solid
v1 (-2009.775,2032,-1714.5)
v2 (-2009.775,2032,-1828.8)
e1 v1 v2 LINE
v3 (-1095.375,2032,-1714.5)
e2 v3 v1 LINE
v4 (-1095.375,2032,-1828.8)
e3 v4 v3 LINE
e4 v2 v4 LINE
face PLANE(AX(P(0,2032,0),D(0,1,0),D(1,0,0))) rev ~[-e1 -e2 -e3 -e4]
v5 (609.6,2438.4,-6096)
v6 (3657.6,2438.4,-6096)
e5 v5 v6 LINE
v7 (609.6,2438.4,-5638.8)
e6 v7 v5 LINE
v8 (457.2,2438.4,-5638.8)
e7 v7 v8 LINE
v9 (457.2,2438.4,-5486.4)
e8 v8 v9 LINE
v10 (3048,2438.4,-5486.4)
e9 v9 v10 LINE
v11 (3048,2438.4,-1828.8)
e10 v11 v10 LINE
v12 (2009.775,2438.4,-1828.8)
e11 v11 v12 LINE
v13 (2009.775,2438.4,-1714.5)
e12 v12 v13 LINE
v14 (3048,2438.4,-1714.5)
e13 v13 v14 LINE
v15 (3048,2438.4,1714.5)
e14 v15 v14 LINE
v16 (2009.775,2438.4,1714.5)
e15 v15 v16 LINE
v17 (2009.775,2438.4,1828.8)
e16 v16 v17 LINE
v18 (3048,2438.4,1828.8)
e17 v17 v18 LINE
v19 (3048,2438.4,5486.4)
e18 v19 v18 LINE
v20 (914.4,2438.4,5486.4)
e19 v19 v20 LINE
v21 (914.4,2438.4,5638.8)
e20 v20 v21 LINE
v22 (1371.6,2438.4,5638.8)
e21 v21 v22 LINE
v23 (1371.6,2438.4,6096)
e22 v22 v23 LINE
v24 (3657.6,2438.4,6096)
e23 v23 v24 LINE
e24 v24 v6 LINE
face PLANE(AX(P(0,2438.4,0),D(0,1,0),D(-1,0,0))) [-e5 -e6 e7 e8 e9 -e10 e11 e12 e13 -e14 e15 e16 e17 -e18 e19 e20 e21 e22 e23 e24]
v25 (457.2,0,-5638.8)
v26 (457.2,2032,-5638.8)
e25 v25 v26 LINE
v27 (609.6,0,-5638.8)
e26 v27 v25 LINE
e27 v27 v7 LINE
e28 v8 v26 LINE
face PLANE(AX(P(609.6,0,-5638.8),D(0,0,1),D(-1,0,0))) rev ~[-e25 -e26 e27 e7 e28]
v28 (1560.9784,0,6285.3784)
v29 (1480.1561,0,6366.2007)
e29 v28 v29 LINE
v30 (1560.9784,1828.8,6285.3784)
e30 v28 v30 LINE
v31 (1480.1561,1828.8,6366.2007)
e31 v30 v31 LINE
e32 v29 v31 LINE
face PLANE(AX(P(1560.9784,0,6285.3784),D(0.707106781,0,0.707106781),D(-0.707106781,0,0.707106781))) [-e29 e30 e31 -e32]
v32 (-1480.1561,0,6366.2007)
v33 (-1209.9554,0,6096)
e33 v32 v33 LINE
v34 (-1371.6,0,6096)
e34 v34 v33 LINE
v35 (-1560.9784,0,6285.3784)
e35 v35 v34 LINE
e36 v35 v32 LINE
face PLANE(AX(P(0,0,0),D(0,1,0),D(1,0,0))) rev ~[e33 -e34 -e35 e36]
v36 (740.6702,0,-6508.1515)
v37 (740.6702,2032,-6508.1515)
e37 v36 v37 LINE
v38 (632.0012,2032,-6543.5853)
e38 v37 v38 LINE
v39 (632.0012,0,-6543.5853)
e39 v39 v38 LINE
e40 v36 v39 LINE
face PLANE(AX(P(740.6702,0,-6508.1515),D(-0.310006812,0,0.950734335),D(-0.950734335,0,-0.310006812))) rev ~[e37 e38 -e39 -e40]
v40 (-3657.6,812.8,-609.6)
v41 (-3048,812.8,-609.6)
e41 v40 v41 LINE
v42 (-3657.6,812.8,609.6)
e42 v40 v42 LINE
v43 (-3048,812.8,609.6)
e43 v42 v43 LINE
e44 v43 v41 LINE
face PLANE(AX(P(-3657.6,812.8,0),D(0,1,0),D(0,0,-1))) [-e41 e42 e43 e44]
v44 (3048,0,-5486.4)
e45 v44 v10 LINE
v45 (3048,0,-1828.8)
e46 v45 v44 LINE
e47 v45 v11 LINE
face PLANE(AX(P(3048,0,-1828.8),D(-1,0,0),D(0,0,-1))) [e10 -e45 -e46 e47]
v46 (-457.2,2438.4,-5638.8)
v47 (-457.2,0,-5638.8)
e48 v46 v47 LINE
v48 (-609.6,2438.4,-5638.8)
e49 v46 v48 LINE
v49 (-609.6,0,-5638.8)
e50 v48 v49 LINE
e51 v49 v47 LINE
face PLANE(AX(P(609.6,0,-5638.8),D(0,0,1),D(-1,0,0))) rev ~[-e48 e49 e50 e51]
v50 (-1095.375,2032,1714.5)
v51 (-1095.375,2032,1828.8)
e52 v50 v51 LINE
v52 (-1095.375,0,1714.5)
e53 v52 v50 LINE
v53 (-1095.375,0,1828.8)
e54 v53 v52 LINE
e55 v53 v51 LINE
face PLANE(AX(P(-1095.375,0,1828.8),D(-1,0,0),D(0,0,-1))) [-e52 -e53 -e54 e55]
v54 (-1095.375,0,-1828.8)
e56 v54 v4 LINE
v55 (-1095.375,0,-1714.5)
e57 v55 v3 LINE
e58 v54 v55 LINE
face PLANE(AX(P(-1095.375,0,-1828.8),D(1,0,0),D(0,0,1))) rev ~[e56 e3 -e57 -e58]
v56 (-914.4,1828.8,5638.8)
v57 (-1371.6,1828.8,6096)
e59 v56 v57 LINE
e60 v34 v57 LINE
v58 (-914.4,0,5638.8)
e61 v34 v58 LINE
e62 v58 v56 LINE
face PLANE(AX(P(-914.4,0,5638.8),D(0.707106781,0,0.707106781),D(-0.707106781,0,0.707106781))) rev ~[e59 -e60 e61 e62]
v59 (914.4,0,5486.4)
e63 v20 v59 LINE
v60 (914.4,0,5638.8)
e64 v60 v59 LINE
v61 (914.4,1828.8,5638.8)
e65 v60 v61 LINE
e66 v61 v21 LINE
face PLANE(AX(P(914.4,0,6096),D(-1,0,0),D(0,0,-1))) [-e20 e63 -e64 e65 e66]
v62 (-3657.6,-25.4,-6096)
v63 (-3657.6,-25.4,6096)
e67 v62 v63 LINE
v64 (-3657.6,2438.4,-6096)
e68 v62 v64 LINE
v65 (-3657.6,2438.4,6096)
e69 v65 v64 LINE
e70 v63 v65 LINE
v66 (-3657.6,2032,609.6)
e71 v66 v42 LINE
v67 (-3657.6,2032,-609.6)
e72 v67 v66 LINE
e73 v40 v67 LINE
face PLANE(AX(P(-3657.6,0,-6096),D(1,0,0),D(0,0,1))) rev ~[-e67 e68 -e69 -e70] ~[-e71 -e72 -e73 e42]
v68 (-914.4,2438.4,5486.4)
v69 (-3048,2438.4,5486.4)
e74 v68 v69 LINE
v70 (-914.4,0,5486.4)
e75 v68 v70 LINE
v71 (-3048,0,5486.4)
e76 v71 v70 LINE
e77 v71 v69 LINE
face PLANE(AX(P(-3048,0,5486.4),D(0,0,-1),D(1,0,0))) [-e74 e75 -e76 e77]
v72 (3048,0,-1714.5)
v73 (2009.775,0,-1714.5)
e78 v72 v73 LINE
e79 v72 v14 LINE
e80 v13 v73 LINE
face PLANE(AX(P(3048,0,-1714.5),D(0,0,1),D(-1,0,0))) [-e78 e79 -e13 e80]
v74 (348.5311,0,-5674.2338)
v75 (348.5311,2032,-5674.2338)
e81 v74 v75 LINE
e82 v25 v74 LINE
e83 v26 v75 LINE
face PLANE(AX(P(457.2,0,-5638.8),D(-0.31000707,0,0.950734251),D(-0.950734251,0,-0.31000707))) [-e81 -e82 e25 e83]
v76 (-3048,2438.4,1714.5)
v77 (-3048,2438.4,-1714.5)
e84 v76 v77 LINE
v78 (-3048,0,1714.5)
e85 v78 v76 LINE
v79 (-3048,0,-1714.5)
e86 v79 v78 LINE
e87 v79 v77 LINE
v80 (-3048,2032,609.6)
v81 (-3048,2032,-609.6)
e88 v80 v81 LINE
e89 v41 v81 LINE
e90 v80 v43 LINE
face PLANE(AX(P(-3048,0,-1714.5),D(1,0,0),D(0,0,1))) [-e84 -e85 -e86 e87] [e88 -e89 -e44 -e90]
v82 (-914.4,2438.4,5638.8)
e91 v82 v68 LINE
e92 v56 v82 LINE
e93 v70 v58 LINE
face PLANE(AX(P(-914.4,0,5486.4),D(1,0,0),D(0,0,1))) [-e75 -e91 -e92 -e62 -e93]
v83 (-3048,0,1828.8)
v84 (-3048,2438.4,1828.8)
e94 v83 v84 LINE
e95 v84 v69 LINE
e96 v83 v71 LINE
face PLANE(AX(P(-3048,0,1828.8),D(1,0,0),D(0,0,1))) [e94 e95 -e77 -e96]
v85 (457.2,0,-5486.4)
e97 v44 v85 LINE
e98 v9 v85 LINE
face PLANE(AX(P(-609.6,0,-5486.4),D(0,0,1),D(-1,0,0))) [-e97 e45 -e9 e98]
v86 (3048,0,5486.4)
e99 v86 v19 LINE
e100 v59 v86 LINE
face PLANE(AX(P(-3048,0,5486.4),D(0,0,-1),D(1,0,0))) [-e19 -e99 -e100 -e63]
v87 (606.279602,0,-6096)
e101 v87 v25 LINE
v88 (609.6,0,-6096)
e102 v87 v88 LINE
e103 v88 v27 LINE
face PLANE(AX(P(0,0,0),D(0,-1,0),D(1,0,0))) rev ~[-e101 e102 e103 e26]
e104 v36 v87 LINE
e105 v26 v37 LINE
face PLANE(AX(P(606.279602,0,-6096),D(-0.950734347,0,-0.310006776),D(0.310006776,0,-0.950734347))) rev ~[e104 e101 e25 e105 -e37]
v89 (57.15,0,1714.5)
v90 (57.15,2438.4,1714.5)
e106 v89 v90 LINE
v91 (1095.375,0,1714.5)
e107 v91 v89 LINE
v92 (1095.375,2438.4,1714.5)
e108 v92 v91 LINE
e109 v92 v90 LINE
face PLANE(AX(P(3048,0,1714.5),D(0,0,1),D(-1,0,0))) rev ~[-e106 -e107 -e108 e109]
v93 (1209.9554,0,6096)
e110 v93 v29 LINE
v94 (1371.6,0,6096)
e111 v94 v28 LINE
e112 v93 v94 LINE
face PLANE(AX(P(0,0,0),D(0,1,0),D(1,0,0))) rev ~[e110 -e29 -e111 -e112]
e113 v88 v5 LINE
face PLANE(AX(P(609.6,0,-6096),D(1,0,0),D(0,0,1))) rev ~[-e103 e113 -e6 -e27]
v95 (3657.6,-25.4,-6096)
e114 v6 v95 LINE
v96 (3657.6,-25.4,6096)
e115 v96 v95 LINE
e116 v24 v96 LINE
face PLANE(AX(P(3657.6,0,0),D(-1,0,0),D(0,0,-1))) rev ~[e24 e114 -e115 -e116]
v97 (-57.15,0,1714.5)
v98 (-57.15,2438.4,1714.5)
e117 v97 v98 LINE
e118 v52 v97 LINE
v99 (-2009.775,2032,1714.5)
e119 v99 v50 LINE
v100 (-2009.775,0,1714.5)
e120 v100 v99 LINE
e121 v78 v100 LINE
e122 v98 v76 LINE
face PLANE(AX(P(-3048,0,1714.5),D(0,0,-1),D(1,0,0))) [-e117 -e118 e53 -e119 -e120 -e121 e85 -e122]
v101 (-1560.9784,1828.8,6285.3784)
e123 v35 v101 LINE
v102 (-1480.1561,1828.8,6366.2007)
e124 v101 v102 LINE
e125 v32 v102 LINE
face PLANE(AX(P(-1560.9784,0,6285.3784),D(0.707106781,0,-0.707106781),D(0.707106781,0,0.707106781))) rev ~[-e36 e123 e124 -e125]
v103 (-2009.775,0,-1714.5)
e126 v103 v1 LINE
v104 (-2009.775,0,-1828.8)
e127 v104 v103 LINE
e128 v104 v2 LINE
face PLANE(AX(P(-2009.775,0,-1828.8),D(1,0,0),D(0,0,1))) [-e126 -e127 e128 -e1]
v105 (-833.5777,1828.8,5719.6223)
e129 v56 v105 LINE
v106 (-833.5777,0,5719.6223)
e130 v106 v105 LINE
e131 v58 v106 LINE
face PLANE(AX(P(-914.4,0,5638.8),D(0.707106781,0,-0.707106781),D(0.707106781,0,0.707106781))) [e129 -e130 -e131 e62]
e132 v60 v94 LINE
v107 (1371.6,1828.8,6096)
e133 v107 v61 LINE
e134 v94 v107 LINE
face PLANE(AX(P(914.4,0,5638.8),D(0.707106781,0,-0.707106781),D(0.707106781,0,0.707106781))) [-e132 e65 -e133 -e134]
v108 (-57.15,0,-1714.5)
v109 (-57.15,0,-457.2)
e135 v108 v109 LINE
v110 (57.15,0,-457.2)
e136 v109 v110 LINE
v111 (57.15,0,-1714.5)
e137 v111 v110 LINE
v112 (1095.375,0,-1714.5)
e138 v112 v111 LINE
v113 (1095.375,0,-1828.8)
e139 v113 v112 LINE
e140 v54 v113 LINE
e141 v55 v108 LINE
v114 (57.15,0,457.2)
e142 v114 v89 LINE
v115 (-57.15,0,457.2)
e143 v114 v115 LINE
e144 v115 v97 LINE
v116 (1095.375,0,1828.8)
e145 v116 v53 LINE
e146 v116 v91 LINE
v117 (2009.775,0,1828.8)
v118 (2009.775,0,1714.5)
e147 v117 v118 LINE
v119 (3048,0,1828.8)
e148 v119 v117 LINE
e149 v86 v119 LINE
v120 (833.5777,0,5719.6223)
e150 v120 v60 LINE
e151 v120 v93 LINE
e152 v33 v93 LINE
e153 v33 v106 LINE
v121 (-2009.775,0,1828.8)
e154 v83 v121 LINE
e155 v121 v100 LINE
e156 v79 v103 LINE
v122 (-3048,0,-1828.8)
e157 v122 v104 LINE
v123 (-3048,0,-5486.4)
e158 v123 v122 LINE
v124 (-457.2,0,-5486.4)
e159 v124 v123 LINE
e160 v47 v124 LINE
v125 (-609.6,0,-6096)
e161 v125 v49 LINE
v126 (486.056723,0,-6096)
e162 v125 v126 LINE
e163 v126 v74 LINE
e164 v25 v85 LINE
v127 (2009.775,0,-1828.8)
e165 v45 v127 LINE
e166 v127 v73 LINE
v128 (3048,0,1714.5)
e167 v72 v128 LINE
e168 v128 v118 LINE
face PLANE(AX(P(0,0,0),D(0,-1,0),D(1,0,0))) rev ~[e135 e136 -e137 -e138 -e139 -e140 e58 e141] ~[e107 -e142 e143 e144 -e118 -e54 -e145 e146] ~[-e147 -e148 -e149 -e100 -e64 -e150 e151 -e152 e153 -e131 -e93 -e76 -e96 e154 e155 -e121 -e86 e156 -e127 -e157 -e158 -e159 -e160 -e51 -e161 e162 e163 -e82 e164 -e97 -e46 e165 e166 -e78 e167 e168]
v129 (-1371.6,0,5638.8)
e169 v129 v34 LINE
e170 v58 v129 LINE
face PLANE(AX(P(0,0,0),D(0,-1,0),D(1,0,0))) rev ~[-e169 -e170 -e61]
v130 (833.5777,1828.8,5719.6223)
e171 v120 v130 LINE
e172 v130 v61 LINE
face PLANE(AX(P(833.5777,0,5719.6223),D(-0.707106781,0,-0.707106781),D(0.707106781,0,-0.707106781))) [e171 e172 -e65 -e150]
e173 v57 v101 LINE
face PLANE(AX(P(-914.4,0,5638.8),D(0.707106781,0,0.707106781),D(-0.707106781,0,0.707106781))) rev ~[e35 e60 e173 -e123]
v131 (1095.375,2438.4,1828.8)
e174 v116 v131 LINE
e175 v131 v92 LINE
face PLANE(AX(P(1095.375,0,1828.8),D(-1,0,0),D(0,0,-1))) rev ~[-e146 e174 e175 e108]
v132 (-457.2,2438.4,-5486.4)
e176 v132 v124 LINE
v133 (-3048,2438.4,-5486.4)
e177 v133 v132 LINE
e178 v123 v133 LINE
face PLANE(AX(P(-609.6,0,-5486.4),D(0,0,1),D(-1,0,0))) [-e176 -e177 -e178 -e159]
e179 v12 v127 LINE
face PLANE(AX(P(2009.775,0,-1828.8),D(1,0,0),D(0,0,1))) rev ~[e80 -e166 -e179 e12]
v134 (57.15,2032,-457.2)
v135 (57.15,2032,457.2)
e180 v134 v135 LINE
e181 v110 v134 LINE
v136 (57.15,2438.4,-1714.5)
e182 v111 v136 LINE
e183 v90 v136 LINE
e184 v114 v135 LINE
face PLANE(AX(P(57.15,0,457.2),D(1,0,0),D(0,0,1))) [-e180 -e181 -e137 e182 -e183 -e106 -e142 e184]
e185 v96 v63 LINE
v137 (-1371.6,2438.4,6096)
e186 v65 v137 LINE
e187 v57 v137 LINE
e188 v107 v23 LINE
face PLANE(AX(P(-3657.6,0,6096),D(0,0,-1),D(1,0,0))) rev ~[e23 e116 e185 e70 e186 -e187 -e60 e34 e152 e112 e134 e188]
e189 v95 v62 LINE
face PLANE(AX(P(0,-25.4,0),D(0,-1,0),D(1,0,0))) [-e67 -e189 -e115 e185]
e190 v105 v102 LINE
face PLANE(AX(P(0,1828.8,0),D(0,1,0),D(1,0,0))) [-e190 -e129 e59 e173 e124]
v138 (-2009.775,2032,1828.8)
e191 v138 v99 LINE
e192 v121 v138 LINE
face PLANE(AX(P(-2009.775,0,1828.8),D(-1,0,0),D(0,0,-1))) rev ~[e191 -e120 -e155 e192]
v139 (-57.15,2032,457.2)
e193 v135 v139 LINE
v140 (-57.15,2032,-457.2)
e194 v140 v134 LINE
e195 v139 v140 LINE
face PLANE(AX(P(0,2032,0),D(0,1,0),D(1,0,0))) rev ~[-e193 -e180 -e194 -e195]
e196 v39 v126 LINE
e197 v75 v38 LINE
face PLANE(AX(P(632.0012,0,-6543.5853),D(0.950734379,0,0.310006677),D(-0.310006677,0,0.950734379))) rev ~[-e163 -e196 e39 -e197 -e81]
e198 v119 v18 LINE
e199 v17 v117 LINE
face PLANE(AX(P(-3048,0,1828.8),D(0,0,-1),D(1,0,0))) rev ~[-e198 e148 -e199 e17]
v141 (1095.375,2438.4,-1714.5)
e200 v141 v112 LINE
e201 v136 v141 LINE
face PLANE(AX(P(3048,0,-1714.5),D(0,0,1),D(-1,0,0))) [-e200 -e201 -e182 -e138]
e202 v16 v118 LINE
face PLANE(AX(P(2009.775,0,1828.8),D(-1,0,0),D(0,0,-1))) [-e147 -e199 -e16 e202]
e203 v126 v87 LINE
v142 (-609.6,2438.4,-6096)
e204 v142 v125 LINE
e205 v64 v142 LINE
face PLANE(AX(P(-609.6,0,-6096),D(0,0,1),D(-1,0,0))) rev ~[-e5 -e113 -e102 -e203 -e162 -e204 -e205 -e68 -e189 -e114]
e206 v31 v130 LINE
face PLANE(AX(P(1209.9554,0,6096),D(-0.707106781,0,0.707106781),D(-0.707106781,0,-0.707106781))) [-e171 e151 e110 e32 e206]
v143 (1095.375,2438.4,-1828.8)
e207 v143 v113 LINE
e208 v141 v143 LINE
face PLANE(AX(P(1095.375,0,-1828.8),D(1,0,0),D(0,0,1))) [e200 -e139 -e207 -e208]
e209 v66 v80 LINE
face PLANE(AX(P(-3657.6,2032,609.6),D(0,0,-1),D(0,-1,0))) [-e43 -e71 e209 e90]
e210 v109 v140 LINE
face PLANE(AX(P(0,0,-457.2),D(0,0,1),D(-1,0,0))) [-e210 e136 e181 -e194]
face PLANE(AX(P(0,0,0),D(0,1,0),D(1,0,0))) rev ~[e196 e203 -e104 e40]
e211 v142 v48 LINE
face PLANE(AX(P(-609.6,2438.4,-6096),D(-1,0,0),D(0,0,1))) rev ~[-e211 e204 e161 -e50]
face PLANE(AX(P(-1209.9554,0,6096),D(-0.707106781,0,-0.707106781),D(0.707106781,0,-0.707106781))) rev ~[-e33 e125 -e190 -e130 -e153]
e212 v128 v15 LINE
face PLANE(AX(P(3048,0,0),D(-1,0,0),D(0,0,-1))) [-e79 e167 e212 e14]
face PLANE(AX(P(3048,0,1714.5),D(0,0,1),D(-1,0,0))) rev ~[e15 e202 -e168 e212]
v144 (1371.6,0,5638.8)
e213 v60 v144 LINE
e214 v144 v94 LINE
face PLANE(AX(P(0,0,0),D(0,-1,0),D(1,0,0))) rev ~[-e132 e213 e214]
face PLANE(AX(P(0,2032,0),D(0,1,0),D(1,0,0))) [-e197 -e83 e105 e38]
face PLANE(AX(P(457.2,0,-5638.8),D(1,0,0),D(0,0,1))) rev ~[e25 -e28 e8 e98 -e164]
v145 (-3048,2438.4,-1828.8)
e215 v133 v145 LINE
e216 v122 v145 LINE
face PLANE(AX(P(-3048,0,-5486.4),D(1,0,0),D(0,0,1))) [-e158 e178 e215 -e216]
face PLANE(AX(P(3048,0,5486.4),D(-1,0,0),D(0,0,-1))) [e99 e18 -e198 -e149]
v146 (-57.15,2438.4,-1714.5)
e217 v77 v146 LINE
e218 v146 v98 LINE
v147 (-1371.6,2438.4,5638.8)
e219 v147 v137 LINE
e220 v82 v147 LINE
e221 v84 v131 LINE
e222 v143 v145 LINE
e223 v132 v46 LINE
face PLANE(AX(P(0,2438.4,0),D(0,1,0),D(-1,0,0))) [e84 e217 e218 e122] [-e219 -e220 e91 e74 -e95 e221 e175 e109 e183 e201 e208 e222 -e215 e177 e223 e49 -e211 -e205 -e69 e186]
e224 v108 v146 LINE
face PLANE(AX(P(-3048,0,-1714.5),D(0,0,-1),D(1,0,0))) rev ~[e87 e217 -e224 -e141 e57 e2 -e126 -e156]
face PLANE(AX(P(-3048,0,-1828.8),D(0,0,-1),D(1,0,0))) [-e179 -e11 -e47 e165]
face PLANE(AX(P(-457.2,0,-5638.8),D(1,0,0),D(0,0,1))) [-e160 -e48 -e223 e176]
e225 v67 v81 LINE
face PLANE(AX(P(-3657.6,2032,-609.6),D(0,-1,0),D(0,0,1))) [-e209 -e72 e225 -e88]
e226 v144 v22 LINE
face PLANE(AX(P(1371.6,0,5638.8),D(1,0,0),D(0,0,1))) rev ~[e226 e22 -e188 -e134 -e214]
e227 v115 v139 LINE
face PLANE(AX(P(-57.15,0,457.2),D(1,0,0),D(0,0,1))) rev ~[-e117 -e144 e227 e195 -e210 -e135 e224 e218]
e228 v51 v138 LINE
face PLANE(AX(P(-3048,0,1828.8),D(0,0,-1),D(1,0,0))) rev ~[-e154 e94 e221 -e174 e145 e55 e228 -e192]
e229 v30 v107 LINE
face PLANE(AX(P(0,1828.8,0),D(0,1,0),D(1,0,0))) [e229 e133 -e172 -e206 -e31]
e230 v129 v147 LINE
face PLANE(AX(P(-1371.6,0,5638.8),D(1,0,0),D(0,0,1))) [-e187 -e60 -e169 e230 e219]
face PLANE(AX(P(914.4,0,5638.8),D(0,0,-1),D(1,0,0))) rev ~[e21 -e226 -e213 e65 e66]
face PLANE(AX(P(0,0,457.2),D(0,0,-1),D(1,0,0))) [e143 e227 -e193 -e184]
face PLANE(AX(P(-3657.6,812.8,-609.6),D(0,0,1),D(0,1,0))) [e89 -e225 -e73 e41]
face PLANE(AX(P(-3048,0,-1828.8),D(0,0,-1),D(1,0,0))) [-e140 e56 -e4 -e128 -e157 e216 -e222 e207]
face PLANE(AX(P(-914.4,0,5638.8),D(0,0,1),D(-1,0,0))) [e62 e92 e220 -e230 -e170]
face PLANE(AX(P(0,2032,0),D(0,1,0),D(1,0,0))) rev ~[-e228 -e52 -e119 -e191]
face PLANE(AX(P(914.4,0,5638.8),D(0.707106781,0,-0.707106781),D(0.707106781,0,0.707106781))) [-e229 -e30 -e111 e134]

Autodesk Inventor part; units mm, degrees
ref_plane "YZ Plane" through (0, 0, 0) normal (1, 0, 0) x (0, 1, 0)
ref_plane "XZ Plane" through (0, 0, 0) normal (0, 1, 0) x (-1, 0, 0)
ref_plane "XY Plane" through (0, 0, 0) normal (0, 0, 1) x (1, 0, 0)
sketch "Sketch1" plane through (0, 0, 0) normal (0, 1, 0) x (-1, 0, 0)
  line L0 (3657.6, -6096) -> (3657.6, 6096)
  line L1 (-3657.6, 6096) -> (-3657.6, -6096)
  line L2 (-5120.64, 0) -> (5120.64, 0) projected
  line L3 (0, -23842.3169) -> (0, 22994.4703) projected
  line L4 (-3048, 1714.5) -> (-3048, -1714.5)
  line L5 (3048, -5486.4) -> (3048, -1828.8)
  line L6 (3048, -1714.5) -> (3048, 1714.5)
  line L7 (3048, 1828.8) -> (3048, 5486.4)
  line L8 (-3048, -1828.8) -> (-3048, -5486.4)
  line L9 (-3048, 5486.4) -> (-3048, 1828.8)
  line L10 (-3048, 1714.5) -> (-3048, -1714.5)
  line L11 (-2009.775, -1828.8) -> (-2009.775, -1714.5)
  line L12 (-1095.375, -1828.8) -> (-1095.375, -1714.5)
  line L13 (-3048, -1714.5) -> (-2009.775, -1714.5)
  line L14 (-1095.375, -1714.5) -> (-57.15, -1714.5)
  line L15 (-3048, -1828.8) -> (-2009.775, -1828.8)
  line L16 (2009.775, -1828.8) -> (2009.775, -1714.5)
  line L17 (1095.375, -1828.8) -> (1095.375, -1714.5)
  line L18 (3048, -1714.5) -> (2009.775, -1714.5)
  line L19 (1095.375, -1714.5) -> (57.15, -1714.5)
  line L20 (3048, -1828.8) -> (2009.775, -1828.8)
  line L21 (1095.375, -1828.8) -> (-1095.375, -1828.8)
  line L22 (-2009.775, -1828.8) -> (-3048, -1828.8)
  line L23 (-1095.375, -1828.8) -> (1095.375, -1828.8)
  line L24 (2009.775, -1828.8) -> (3048, -1828.8)
  line L25 (57.15, -1714.5) -> (1095.375, -1714.5)
  line L26 (2009.775, -1714.5) -> (3048, -1714.5)
  line L27 (-2009.775, 1828.8) -> (-2009.775, 1714.5)
  line L28 (-1095.375, 1828.8) -> (-1095.375, 1714.5)
  line L29 (-3048, 1714.5) -> (-2009.775, 1714.5)
  line L30 (-1095.375, 1714.5) -> (-57.15, 1714.5)
  line L31 (-3048, 1828.8) -> (-2009.775, 1828.8)
  line L32 (3048, 1714.5) -> (2009.775, 1714.5)
  line L33 (3048, 1828.8) -> (2009.775, 1828.8)
  line L34 (2009.775, 1828.8) -> (2009.775, 1714.5)
  line L35 (1095.375, 1828.8) -> (1095.375, 1714.5)
  line L36 (1095.375, 1714.5) -> (57.15, 1714.5)
  line L37 (1095.375, 1828.8) -> (-1095.375, 1828.8)
  line L38 (-2009.775, 1828.8) -> (-3048, 1828.8)
  line L39 (-1095.375, 1828.8) -> (1095.375, 1828.8)
  line L40 (2009.775, 1828.8) -> (3048, 1828.8)
  line L41 (57.15, 1714.5) -> (1095.375, 1714.5)
  line L42 (2009.775, 1714.5) -> (3048, 1714.5)
  line L43 (-57.15, -457.2) -> (57.15, -457.2)
  line L44 (57.15, 457.2) -> (-57.15, 457.2)
  line L45 (-609.6, -6096) -> (-609.6, -5486.4)
  line L46 (609.6, -6096) -> (609.6, -5486.4)
  line L47 (-3048, -5486.4) -> (-609.6, -5486.4)
  line L48 (609.6, -5486.4) -> (3048, -5486.4)
  line L49 (-3657.6, -6096) -> (-609.6, -6096)
  line L50 (609.6, -6096) -> (3657.6, -6096)
  line L51 (914.4, 5486.4) -> (914.4, 6096)
  line L52 (-914.4, 6096) -> (-914.4, 5486.4)
  line L53 (3048, 5486.4) -> (914.4, 5486.4)
  line L54 (-914.4, 5486.4) -> (-3048, 5486.4)
  line L55 (3657.6, 6096) -> (914.4, 6096)
  line L56 (-914.4, 6096) -> (-3657.6, 6096)
  line L57 (-57.15, -1714.5) -> (-57.15, -457.2)
  line L58 (-57.15, 457.2) -> (-57.15, 1714.5)
  line L59 (-57.15, 1714.5) -> (-57.15, 457.2)
  line L60 (-57.15, -457.2) -> (-57.15, -1714.5)
  line L61 (57.15, -1714.5) -> (57.15, -457.2)
  line L62 (57.15, 457.2) -> (57.15, 1714.5)
  line L63 (57.15, 1714.5) -> (57.15, 457.2)
  line L64 (57.15, -457.2) -> (57.15, -1714.5)
  line L65 (-3048, 5486.4) -> (-3048, 1828.8)
  line L66 (-3048, 1828.8) -> (-2009.775, 1828.8)
  line L67 (-2009.775, 1828.8) -> (-2009.775, 1714.5)
  line L68 (-2009.775, 1714.5) -> (-3048, 1714.5)
  line L69 (-3048, 1714.5) -> (-3048, -1714.5)
  line L70 (-3048, -1714.5) -> (-2009.775, -1714.5)
  line L71 (-2009.775, -1714.5) -> (-2009.775, -1828.8)
  line L72 (-2009.775, -1828.8) -> (-3048, -1828.8)
  line L73 (-3048, -1828.8) -> (-3048, -5486.4)
  line L74 (-3048, -5486.4) -> (-609.6, -5486.4)
  line L75 (609.6, -5486.4) -> (3048, -5486.4)
  line L76 (3048, -5486.4) -> (3048, -1828.8)
  line L77 (3048, -1828.8) -> (2009.775, -1828.8)
  line L78 (2009.775, -1828.8) -> (2009.775, -1714.5)
  line L79 (2009.775, -1714.5) -> (3048, -1714.5)
  line L80 (3048, 1714.5) -> (3048, -1714.5)
  line L81 (3048, 1714.5) -> (2009.775, 1714.5)
  line L82 (2009.775, 1714.5) -> (2009.775, 1828.8)
  line L83 (2009.775, 1828.8) -> (3048, 1828.8)
  line L84 (3048, 1828.8) -> (3048, 5486.4)
  point P0 (0, 0)
  point P1 (0, 23842.3169)
  point P2 (0, -22994.4703)
  dimension "d2" = 7315.2
  dimension "d10" = 609.6
  dimension "d13" = 1038.225
  dimension "d14" = 914.4
  dimension "d17" = 114.3
  dimension "d18" = 1038.225
  dimension "d19" = 1038.225
  dimension "d20" = 914.4
  dimension "d21" = 1219.2
  dimension "d23" = 609.6
  dimension "d24" = 4267.2
  dimension "d25" = 1828.8
  dimension "d26" = 12192
  dimension "d27" = 609.6
  dimension "d28" = 114.3
extrude "Extrusion1" add sketch "Sketch1" along normal blind 2438.4
sketch "Sketch2" plane through (-3657.6, 0, -6096) normal (-1, 0, 0) x (0, 0, 1)
  line L0 (0, 0) -> (12192, 0) projected
  line L1 (5486.4, 2032) -> (6705.6, 2032)
  line L2 (6705.6, 2032) -> (6705.6, 812.8)
  line L3 (6705.6, 812.8) -> (5486.4, 812.8)
  line L4 (5486.4, 812.8) -> (5486.4, 2032)
  line L5 (6096, 2926.08) -> (6096, -487.68) projected
  point P0 (6096, 0)
  dimension "d31" = 1219.2
  dimension "d33" = 1219.2
  dimension "d34" = 812.8
extrude "Extrusion2" cut sketch "Sketch2" against normal up to surface (609.6 mm away)
sketch "Sketch3" plane through (0, 2438.4, 0) normal (0, 1, 0) x (1, 0, 0)
  line L0 (57.15, 1714.5) -> (1095.375, 1714.5) projected
  line L1 (1095.375, 1714.5) -> (1095.375, 1828.8) projected
  line L2 (1095.375, 1828.8) -> (-1095.375, 1828.8) projected
  line L3 (-1095.375, 1828.8) -> (-1095.375, 1714.5) projected
  line L4 (-1095.375, 1714.5) -> (-57.15, 1714.5) projected
  line L5 (-57.15, 1714.5) -> (-57.15, 457.2) projected
  line L6 (-57.15, 457.2) -> (57.15, 457.2) projected
  line L7 (57.15, 457.2) -> (57.15, 1714.5) projected
  line L8 (-57.15, -1714.5) -> (-1095.375, -1714.5) projected
  line L9 (-1095.375, -1714.5) -> (-1095.375, -1828.8) projected
  line L10 (-1095.375, -1828.8) -> (1095.375, -1828.8) projected
  line L11 (1095.375, -1828.8) -> (1095.375, -1714.5) projected
  line L12 (1095.375, -1714.5) -> (57.15, -1714.5) projected
  line L13 (57.15, -1714.5) -> (57.15, -457.2) projected
  line L14 (57.15, -457.2) -> (-57.15, -457.2) projected
  line L15 (-57.15, -457.2) -> (-57.15, -1714.5) projected
  line L16 (3657.6, 6096) -> (609.6, 6096) projected
  line L17 (609.6, 6096) -> (609.6, 5486.4) projected
  line L18 (609.6, 5486.4) -> (3048, 5486.4) projected
  line L19 (3048, 5486.4) -> (3048, 1828.8) projected
  line L20 (3048, 1828.8) -> (2009.775, 1828.8) projected
  line L21 (2009.775, 1828.8) -> (2009.775, 1714.5) projected
  line L22 (2009.775, 1714.5) -> (3048, 1714.5) projected
  line L23 (3048, 1714.5) -> (3048, -1714.5) projected
  line L24 (3048, -1714.5) -> (2009.775, -1714.5) projected
  line L25 (2009.775, -1714.5) -> (2009.775, -1828.8) projected
  line L26 (2009.775, -1828.8) -> (3048, -1828.8) projected
  line L27 (3048, -1828.8) -> (3048, -5486.4) projected
  line L28 (3048, -5486.4) -> (914.4, -5486.4) projected
  line L29 (914.4, -5486.4) -> (914.4, -6096) projected
  line L30 (914.4, -6096) -> (3657.6, -6096) projected
  line L31 (3657.6, -6096) -> (3657.6, 6096) projected
  line L32 (-609.6, 6096) -> (609.6, 6096)
  line L33 (609.6, 6096) -> (609.6, 5486.4)
  line L34 (609.6, 5486.4) -> (-609.6, 5486.4)
  line L35 (-609.6, 5486.4) -> (-609.6, 6096)
  line L36 (-2009.775, 1828.8) -> (-1095.375, 1828.8)
  line L37 (-1095.375, 1828.8) -> (-1095.375, 1714.5)
  line L38 (-1095.375, 1714.5) -> (-2009.775, 1714.5)
  line L39 (-2009.775, 1714.5) -> (-2009.775, 1828.8)
  line L40 (1095.375, 1828.8) -> (2009.775, 1828.8)
  line L41 (2009.775, 1828.8) -> (2009.775, 1714.5)
  line L42 (2009.775, 1714.5) -> (1095.375, 1714.5)
  line L43 (1095.375, 1714.5) -> (1095.375, 1828.8)
  line L44 (-57.15, 457.2) -> (57.15, 457.2)
  line L45 (57.15, 457.2) -> (57.15, -457.2)
  line L46 (57.15, -457.2) -> (-57.15, -457.2)
  line L47 (-57.15, -457.2) -> (-57.15, 457.2)
  line L48 (1095.375, -1714.5) -> (2009.775, -1714.5)
  line L49 (2009.775, -1714.5) -> (2009.775, -1828.8)
  line L50 (2009.775, -1828.8) -> (1095.375, -1828.8)
  line L51 (1095.375, -1828.8) -> (1095.375, -1714.5)
  line L52 (-2009.775, -1714.5) -> (-1095.375, -1714.5)
  line L53 (-1095.375, -1714.5) -> (-1095.375, -1828.8)
  line L54 (-1095.375, -1828.8) -> (-2009.775, -1828.8)
  line L55 (-2009.775, -1828.8) -> (-2009.775, -1714.5)
  line L56 (-914.4, -5486.4) -> (914.4, -5486.4)
  line L57 (914.4, -5486.4) -> (914.4, -6096)
  line L58 (914.4, -6096) -> (-914.4, -6096)
  line L59 (-914.4, -6096) -> (-914.4, -5486.4)
  line L60 (1095.375, 1828.8) -> (2009.775, 1828.8)
  line L61 (2009.775, 1828.8) -> (2009.775, 1714.5)
  line L62 (2009.775, 1714.5) -> (1095.375, 1714.5)
  line L63 (1095.375, 1714.5) -> (1095.375, 1828.8)
  point P0 (0, 0)
extrude "Extrusion3" add sketch "Sketch3" against normal blind 406.4 contours L1 L40 L21 L42 | L45 L14 L47 L6 | L3 L38 L39 L36 | L48 L25 L50 L11 | L9 L54 L55 L52 | L34 L35 L32 L17 | L29 L58 L59 L56
sketch "Sketch5" plane through (0, 0, 0) normal (0, -1, 0) x (1, 0, 0)
  line L0 (3657.6, -6096) -> (609.6, -6096) projected
  line L1 (3657.6, 6096) -> (3657.6, -6096) projected
  line L2 (914.4, 6096) -> (3657.6, 6096) projected
  line L3 (914.4, 5486.4) -> (914.4, 6096) projected
  line L4 (3048, 5486.4) -> (914.4, 5486.4) projected
  line L5 (3048, 1828.8) -> (3048, 5486.4) projected
  line L6 (2009.775, 1828.8) -> (3048, 1828.8) projected
  line L7 (2009.775, 1714.5) -> (2009.775, 1828.8) projected
  line L8 (3048, 1714.5) -> (2009.775, 1714.5) projected
  line L9 (3048, -1714.5) -> (3048, 1714.5) projected
  line L10 (2009.775, -1714.5) -> (3048, -1714.5) projected
  line L11 (2009.775, -1828.8) -> (2009.775, -1714.5) projected
  line L12 (3048, -1828.8) -> (2009.775, -1828.8) projected
  line L13 (3048, -5486.4) -> (3048, -1828.8) projected
  line L14 (609.6, -5486.4) -> (3048, -5486.4) projected
  line L15 (609.6, -6096) -> (609.6, -5486.4) projected
  line L16 (-3657.6, 6096) -> (3657.6, 6096)
  line L17 (3657.6, 6096) -> (3657.6, -6096)
  line L18 (3657.6, -6096) -> (-3657.6, -6096)
  line L19 (-3657.6, -6096) -> (-3657.6, 6096)
  point P0 (0, 0)
extrude "Extrusion5" add sketch "Sketch5" along normal blind 25.4
sketch "Sketch9" plane through (0, 2438.4, 0) normal (0, 1, 0) x (1, 0, 0)
  line L0 (486.0567, 6096) -> (348.5311, 5674.2338) projected
  line L1 (348.5311, 5674.2338) -> (457.2, 5638.8) projected
  line L2 (457.2, 5638.8) -> (457.2, 5486.4) projected
  line L3 (457.2, 5486.4) -> (-457.2, 5486.4) projected
  line L4 (-457.2, 5486.4) -> (-457.2, 5638.8) projected
  line L5 (-457.2, 5638.8) -> (-609.6, 5638.8) projected
  line L6 (-609.6, 6096) -> (-609.6, 5638.8) projected
  line L7 (-609.6, 6096) -> (486.0567, 6096) projected
  line L8 (457.2, 5638.8) -> (606.2796, 6096) projected
  line L9 (606.2796, 6096) -> (609.6, 6096) projected
  line L10 (609.6, 5638.8) -> (609.6, 6096) projected
  line L11 (609.6, 5638.8) -> (457.2, 5638.8) projected
  line L12 (-609.6, 6096) -> (609.6, 6096)
  line L13 (609.6, 6096) -> (609.6, 5638.8)
  line L14 (609.6, 5638.8) -> (-609.6, 5638.8)
  line L15 (-609.6, 5638.8) -> (-609.6, 6096)
  line L16 (-457.2, 5638.8) -> (457.2, 5638.8)
  line L17 (457.2, 5638.8) -> (457.2, 5486.4)
  line L18 (457.2, 5486.4) -> (-457.2, 5486.4)
  line L19 (-457.2, 5486.4) -> (-457.2, 5638.8)
  point P0 (0, 0)
sketch "Sketch6" plane through (0, 0, 0) normal (0, 1, 0) x (1, 0, 0)
  line L0 (-3048, 5486.4) -> (-609.6, 5486.4) projected
  line L1 (-3048, 1828.8) -> (-3048, 5486.4) projected
  line L2 (57.15, 1714.5) -> (1095.375, 1714.5) projected
  line L3 (2009.775, 1714.5) -> (3048, 1714.5) projected
  line L4 (3048, 1714.5) -> (3048, -1714.5) projected
  circle A0 centre (1549.4, 0) radius 152.4
  line L5 (-1095.375, -1828.8) -> (-1095.375, -1714.5) projected
  line L6 (3048, 1828.8) -> (2009.775, 1828.8) projected
  line L7 (2009.775, 1828.8) -> (2009.775, 1714.5) projected
  line L8 (1095.375, 1828.8) -> (-1095.375, 1828.8) projected
  line L9 (1095.375, 1714.5) -> (1095.375, 1828.8) projected
  circle A1 centre (-1549.4, -3657.6) radius 152.4
  circle A2 centre (1549.4, -3657.6) radius 152.4
  line L10 (3048, -1828.8) -> (3048, -5486.4) projected
  line L11 (3048, -5486.4) -> (914.4, -5486.4) projected
  line L12 (-914.4, -5486.4) -> (-3048, -5486.4) projected
  line L13 (-3048, -5486.4) -> (-3048, -1828.8) projected
  line L14 (-1095.375, -1828.8) -> (1095.375, -1828.8) projected
  line L15 (-3048, -1828.8) -> (-2009.775, -1828.8) projected
  line L16 (609.6, 6096) -> (609.6, 5486.4) projected
  line L17 (-609.6, 5486.4) -> (-609.6, 6096) projected
  line L18 (215.9, 5702.3) -> (-215.9, 5702.3)
  line L19 (-2009.775, -1714.5) -> (-3048, -1714.5) projected
  line L20 (914.4, -5486.4) -> (914.4, -6096) projected
  line L21 (-914.4, -6096) -> (-914.4, -5486.4) projected
  circle A3 centre (457.2, -5486.4) radius 152.4
  line L22 (673.1, -5270.5) -> (241.3, -5270.5)
  line L23 (241.3, -5270.5) -> (241.3, -5702.3)
  line L24 (673.1, -5270.5) -> (241.3, -5702.3)
  line L25 (-241.3, -5270.5) -> (-673.1, -5270.5)
  circle A4 centre (-457.2, -5486.4) radius 152.4
  line L26 (-241.3, -5270.5) -> (-673.1, -5702.3)
  line L27 (-673.1, -5270.5) -> (-673.1, -5702.3)
  line L28 (2009.775, 1714.5) -> (2009.775, 1828.8) projected
  line L29 (5120.64, 0) -> (-5120.64, 0) projected
  point P0 (0, 0)
  point P1 (457.2, -5486.4)
  point P2 (-457.2, -5486.4)
  dimension "d101" = 304.8
  dimension "d106" = 1498.6
  dimension "d120" = 1498.6
  dimension "d121" = 1828.8
  dimension "d154" = 431.8
  dimension "d156" = 304.8
  dimension "d157" = 431.8
  dimension "d158" = 431.8
  dimension "d159" = 215.9
  dimension "d160" = 304.8
  dimension "d161" = 431.8
  dimension "d162" = 431.8
  dimension "d163" = 215.9
  dimension "d164" = 457.2
  dimension "d165" = 457.2
sketch "Sketch7" plane through (0, 2438.4, 0) normal (0, 1, 0) x (1, 0, 0)
  line L0 (-914.4, -6096) -> (-914.4, -5486.4) projected
  line L1 (914.4, -6096) -> (-914.4, -6096) projected
  line L2 (914.4, -5486.4) -> (914.4, -6096) projected
  line L3 (3048, -5486.4) -> (914.4, -5486.4) projected
  line L4 (3048, -1828.8) -> (3048, -5486.4) projected
  line L5 (2009.775, -1828.8) -> (3048, -1828.8) projected
  line L6 (2009.775, -1714.5) -> (2009.775, -1828.8) projected
  line L7 (3048, -1714.5) -> (2009.775, -1714.5) projected
  line L8 (3048, 1714.5) -> (3048, -1714.5) projected
  line L9 (2009.775, 1714.5) -> (3048, 1714.5) projected
  line L10 (2009.775, 1828.8) -> (2009.775, 1714.5) projected
  line L11 (3048, 1828.8) -> (2009.775, 1828.8) projected
  line L12 (3048, 5486.4) -> (3048, 1828.8) projected
  line L13 (609.6, 5486.4) -> (3048, 5486.4) projected
  line L14 (609.6, 6096) -> (609.6, 5486.4) projected
  line L15 (-609.6, 6096) -> (609.6, 6096) projected
  line L16 (-609.6, 5486.4) -> (-609.6, 6096) projected
  line L17 (-3048, 5486.4) -> (-609.6, 5486.4) projected
  line L18 (-3048, 1828.8) -> (-3048, 5486.4) projected
  line L19 (-2009.775, 1828.8) -> (-3048, 1828.8) projected
  line L20 (-2009.775, 1714.5) -> (-2009.775, 1828.8) projected
  line L21 (-3048, 1714.5) -> (-2009.775, 1714.5) projected
  line L22 (-3048, -1714.5) -> (-3048, 1714.5) projected
  line L23 (-2009.775, -1714.5) -> (-3048, -1714.5) projected
  line L24 (-2009.775, -1828.8) -> (-2009.775, -1714.5) projected
  line L25 (-3048, -1828.8) -> (-2009.775, -1828.8) projected
  line L26 (-3048, -5486.4) -> (-3048, -1828.8) projected
  line L27 (-914.4, -5486.4) -> (-3048, -5486.4) projected
  line L28 (1095.375, -1714.5) -> (57.15, -1714.5) projected
  line L29 (1095.375, -1828.8) -> (1095.375, -1714.5) projected
  line L30 (-1095.375, -1828.8) -> (1095.375, -1828.8) projected
  line L31 (-1095.375, -1714.5) -> (-1095.375, -1828.8) projected
  line L32 (-57.15, -1714.5) -> (-1095.375, -1714.5) projected
  line L33 (-57.15, -457.2) -> (-57.15, -1714.5) projected
  line L34 (57.15, -457.2) -> (-57.15, -457.2) projected
  line L35 (57.15, -1714.5) -> (57.15, -457.2) projected
  line L36 (-57.15, 457.2) -> (57.15, 457.2) projected
  line L37 (-57.15, 1714.5) -> (-57.15, 457.2) projected
  line L38 (-1095.375, 1714.5) -> (-57.15, 1714.5) projected
  line L39 (-1095.375, 1828.8) -> (-1095.375, 1714.5) projected
  line L40 (1095.375, 1828.8) -> (-1095.375, 1828.8) projected
  line L41 (1095.375, 1714.5) -> (1095.375, 1828.8) projected
  line L42 (57.15, 1714.5) -> (1095.375, 1714.5) projected
  line L43 (57.15, 457.2) -> (57.15, 1714.5) projected
  line L44 (1095.375, 1828.8) -> (2009.775, 1828.8)
  line L45 (2009.775, 1828.8) -> (2009.775, 1714.5)
  line L46 (2009.775, 1714.5) -> (1095.375, 1714.5)
  line L47 (1095.375, 1714.5) -> (1095.375, 1828.8)
  line L48 (1095.375, -1714.5) -> (2009.775, -1714.5)
  line L49 (2009.775, -1714.5) -> (2009.775, -1828.8)
  line L50 (2009.775, -1828.8) -> (1095.375, -1828.8)
  line L51 (1095.375, -1828.8) -> (1095.375, -1714.5)
  line L52 (-914.4, -5486.4) -> (914.4, -5486.4)
  line L53 (914.4, -5486.4) -> (914.4, -6096)
  line L54 (914.4, -6096) -> (-914.4, -6096)
  line L55 (-914.4, -6096) -> (-914.4, -5486.4)
  point P0 (0, 0)
extrude "Extrusion23" cut sketch "Sketch7" against normal up to surface (406.4 mm away) contours L0 L52 L2 L1 | L50 L29 L48 L6 | L46 L41 L44 L10
sketch "Sketch8" plane through (0, 0, 0) normal (0, 1, 0) x (1, 0, 0)
  line L0 (673.1, -5270.5) -> (241.3, -5702.3) projected
  line L1 (-914.4, -6096) -> (-914.4, -5486.4) projected
  line L2 (-914.4, -5486.4) -> (-3048, -5486.4) projected
  line L3 (-3657.6, -6096) -> (-3657.6, 6096) projected
  line L4 (-3657.6, 6096) -> (3657.6, 6096) projected
  line L5 (3657.6, 6096) -> (3657.6, -6096) projected
  line L6 (3657.6, -6096) -> (-3657.6, -6096) projected
  line L7 (-914.4, -5638.8) -> (-1371.6, -5638.8)
  line L8 (-1371.6, -5638.8) -> (-1371.6, -6096)
  line L9 (-1371.6, -6096) -> (-914.4, -6096)
  line L10 (-914.4, -6096) -> (-914.4, -5638.8)
  line L11 (0, 9125.5425) -> (0, -8948.1579) projected
  line L12 (-914.4, -5638.8) -> (-1560.9784, -6285.3784)
  line L13 (-1560.9784, -6285.3784) -> (-1480.1561, -6366.2007)
  line L14 (-1480.1561, -6366.2007) -> (-833.5777, -5719.6223)
  line L15 (-914.4, -5638.8) -> (-833.5777, -5719.6223)
  line L16 (914.4, -6096) -> (914.4, -5486.4)
  line L17 (-3657.6, -6096) -> (3657.6, -6096)
  line L18 (914.4, -5638.8) -> (1371.6, -5638.8)
  line L19 (1371.6, -5638.8) -> (1371.6, -6096)
  line L20 (914.4, -5638.8) -> (1560.9784, -6285.3784)
  line L21 (1560.9784, -6285.3784) -> (1480.1561, -6366.2007)
  line L22 (1480.1561, -6366.2007) -> (833.5777, -5719.6223)
  line L23 (833.5777, -5719.6223) -> (914.4, -5638.8)
  line L24 (914.4, -5638.8) -> (1371.6, -5638.8)
  line L25 (1371.6, -5638.8) -> (1371.6, -6096)
  line L26 (1371.6, -6096) -> (914.4, -6096)
  line L27 (914.4, -6096) -> (914.4, -5638.8)
  line L28 (914.4, -5638.8) -> (833.5777, -5719.6223)
  line L29 (833.5777, -5719.6223) -> (1480.1561, -6366.2007)
  line L30 (1480.1561, -6366.2007) -> (1560.9784, -6285.3784)
  line L31 (1560.9784, -6285.3784) -> (914.4, -5638.8)
  line L32 (-609.6, 5486.4) -> (-609.6, 6096) projected
  line L33 (-3048, 5486.4) -> (-609.6, 5486.4) projected
  line L34 (-609.6, 5638.8) -> (-457.2, 5638.8)
  line L35 (-457.2, 5638.8) -> (-457.2, 5486.4)
  line L36 (-457.2, 5486.4) -> (-609.6, 5486.4)
  line L37 (-609.6, 5486.4) -> (-609.6, 5638.8)
  line L38 (609.6, 5486.4) -> (609.6, 6096)
  line L39 (3048, 5486.4) -> (609.6, 5486.4)
  line L40 (609.6, 5638.8) -> (457.2, 5638.8)
  line L41 (457.2, 5638.8) -> (457.2, 5486.4)
  line L42 (457.2, 5486.4) -> (609.6, 5486.4)
  line L43 (609.6, 5486.4) -> (609.6, 5638.8)
  line L44 (457.2, 5638.8) -> (740.6702, 6508.1515)
  line L45 (740.6702, 6508.1515) -> (632.0012, 6543.5853)
  line L46 (632.0012, 6543.5853) -> (348.5311, 5674.2338)
  line L47 (457.2, 5638.8) -> (348.5311, 5674.2338)
  point P0 (564.9631, -5378.6369)
  point P1 (0, 0)
  dimension "d182" = 457.2
  dimension "d184" = 152.4
  dimension "d187" = 114.3
  dimension "d188" = 914.4
  dimension "d193" = 152.4
  dimension "d194" = 152.4
  dimension "d195" = 114.3
  dimension "d196" = 914.4
extrude "Extrusion24" cut sketch "Sketch8" along normal up to surface (2438.4 mm away) contours L6 L14 L1 | L14 L6 L12 L1 | L12 L8 L7 | L16 L22 L6 | L22 L16 L20 L6 | L20 L18 L19
extrude "Extrusion25" add sketch "Sketch8" along normal blind 1828.8 contours L14 L6 L12 L1 | L1 L15 L14 | L14 L13 L12 L6 | L22 L16 L20 L6 | L6 L20 L21 L22 | L22 L23 L16
extrude "Extrusion26" add sketch "Sketch8" along normal blind 2438.4 contours L34 L35 L36 L32 | L40 L38 L42 L41
sketch "Sketch10" plane through (0, 2438.4, 0) normal (0, 1, 0) x (1, 0, 0)
  line L0 (457.2, 5638.8) -> (457.2, 5486.4) projected
  line L1 (609.6, 5638.8) -> (609.6, 6096) projected
  line L2 (609.6, 5638.8) -> (457.2, 5638.8) projected
  line L3 (-609.6, 6096) -> (-609.6, 5638.8) projected
  line L4 (-457.2, 5638.8) -> (-609.6, 5638.8) projected
  line L5 (-457.2, 5486.4) -> (-457.2, 5638.8) projected
  line L6 (-609.6, 6096) -> (609.6, 6096)
  line L7 (609.6, 6096) -> (609.6, 5638.8)
  line L8 (609.6, 5638.8) -> (-609.6, 5638.8)
  line L9 (-609.6, 5638.8) -> (-609.6, 6096)
  point P0 (0, 0)
extrude "Extrusion29" cut sketch "Sketch10" against normal blind 2032
extrude "Extrusion30" add sketch "Sketch8" along normal blind 2032 contours L46 L45 L44 L4 | L4 L44 L47 L46
sketch "Sketch11" plane through (0, 2438.4, 0) normal (0, 1, 0) x (1, 0, 0)
  line L0 (-457.2, 5638.8) -> (457.2, 5638.8) projected
  line L1 (457.2, 5638.8) -> (457.2, 5486.4) projected
  line L2 (457.2, 5486.4) -> (-457.2, 5486.4) projected
  line L3 (-457.2, 5486.4) -> (-457.2, 5638.8) projected
  point P0 (0, 0)
extrude "Extrusion31" cut sketch "Sketch11" against normal blind 406.4
properties part number "East_Structure_Hose_Test"
